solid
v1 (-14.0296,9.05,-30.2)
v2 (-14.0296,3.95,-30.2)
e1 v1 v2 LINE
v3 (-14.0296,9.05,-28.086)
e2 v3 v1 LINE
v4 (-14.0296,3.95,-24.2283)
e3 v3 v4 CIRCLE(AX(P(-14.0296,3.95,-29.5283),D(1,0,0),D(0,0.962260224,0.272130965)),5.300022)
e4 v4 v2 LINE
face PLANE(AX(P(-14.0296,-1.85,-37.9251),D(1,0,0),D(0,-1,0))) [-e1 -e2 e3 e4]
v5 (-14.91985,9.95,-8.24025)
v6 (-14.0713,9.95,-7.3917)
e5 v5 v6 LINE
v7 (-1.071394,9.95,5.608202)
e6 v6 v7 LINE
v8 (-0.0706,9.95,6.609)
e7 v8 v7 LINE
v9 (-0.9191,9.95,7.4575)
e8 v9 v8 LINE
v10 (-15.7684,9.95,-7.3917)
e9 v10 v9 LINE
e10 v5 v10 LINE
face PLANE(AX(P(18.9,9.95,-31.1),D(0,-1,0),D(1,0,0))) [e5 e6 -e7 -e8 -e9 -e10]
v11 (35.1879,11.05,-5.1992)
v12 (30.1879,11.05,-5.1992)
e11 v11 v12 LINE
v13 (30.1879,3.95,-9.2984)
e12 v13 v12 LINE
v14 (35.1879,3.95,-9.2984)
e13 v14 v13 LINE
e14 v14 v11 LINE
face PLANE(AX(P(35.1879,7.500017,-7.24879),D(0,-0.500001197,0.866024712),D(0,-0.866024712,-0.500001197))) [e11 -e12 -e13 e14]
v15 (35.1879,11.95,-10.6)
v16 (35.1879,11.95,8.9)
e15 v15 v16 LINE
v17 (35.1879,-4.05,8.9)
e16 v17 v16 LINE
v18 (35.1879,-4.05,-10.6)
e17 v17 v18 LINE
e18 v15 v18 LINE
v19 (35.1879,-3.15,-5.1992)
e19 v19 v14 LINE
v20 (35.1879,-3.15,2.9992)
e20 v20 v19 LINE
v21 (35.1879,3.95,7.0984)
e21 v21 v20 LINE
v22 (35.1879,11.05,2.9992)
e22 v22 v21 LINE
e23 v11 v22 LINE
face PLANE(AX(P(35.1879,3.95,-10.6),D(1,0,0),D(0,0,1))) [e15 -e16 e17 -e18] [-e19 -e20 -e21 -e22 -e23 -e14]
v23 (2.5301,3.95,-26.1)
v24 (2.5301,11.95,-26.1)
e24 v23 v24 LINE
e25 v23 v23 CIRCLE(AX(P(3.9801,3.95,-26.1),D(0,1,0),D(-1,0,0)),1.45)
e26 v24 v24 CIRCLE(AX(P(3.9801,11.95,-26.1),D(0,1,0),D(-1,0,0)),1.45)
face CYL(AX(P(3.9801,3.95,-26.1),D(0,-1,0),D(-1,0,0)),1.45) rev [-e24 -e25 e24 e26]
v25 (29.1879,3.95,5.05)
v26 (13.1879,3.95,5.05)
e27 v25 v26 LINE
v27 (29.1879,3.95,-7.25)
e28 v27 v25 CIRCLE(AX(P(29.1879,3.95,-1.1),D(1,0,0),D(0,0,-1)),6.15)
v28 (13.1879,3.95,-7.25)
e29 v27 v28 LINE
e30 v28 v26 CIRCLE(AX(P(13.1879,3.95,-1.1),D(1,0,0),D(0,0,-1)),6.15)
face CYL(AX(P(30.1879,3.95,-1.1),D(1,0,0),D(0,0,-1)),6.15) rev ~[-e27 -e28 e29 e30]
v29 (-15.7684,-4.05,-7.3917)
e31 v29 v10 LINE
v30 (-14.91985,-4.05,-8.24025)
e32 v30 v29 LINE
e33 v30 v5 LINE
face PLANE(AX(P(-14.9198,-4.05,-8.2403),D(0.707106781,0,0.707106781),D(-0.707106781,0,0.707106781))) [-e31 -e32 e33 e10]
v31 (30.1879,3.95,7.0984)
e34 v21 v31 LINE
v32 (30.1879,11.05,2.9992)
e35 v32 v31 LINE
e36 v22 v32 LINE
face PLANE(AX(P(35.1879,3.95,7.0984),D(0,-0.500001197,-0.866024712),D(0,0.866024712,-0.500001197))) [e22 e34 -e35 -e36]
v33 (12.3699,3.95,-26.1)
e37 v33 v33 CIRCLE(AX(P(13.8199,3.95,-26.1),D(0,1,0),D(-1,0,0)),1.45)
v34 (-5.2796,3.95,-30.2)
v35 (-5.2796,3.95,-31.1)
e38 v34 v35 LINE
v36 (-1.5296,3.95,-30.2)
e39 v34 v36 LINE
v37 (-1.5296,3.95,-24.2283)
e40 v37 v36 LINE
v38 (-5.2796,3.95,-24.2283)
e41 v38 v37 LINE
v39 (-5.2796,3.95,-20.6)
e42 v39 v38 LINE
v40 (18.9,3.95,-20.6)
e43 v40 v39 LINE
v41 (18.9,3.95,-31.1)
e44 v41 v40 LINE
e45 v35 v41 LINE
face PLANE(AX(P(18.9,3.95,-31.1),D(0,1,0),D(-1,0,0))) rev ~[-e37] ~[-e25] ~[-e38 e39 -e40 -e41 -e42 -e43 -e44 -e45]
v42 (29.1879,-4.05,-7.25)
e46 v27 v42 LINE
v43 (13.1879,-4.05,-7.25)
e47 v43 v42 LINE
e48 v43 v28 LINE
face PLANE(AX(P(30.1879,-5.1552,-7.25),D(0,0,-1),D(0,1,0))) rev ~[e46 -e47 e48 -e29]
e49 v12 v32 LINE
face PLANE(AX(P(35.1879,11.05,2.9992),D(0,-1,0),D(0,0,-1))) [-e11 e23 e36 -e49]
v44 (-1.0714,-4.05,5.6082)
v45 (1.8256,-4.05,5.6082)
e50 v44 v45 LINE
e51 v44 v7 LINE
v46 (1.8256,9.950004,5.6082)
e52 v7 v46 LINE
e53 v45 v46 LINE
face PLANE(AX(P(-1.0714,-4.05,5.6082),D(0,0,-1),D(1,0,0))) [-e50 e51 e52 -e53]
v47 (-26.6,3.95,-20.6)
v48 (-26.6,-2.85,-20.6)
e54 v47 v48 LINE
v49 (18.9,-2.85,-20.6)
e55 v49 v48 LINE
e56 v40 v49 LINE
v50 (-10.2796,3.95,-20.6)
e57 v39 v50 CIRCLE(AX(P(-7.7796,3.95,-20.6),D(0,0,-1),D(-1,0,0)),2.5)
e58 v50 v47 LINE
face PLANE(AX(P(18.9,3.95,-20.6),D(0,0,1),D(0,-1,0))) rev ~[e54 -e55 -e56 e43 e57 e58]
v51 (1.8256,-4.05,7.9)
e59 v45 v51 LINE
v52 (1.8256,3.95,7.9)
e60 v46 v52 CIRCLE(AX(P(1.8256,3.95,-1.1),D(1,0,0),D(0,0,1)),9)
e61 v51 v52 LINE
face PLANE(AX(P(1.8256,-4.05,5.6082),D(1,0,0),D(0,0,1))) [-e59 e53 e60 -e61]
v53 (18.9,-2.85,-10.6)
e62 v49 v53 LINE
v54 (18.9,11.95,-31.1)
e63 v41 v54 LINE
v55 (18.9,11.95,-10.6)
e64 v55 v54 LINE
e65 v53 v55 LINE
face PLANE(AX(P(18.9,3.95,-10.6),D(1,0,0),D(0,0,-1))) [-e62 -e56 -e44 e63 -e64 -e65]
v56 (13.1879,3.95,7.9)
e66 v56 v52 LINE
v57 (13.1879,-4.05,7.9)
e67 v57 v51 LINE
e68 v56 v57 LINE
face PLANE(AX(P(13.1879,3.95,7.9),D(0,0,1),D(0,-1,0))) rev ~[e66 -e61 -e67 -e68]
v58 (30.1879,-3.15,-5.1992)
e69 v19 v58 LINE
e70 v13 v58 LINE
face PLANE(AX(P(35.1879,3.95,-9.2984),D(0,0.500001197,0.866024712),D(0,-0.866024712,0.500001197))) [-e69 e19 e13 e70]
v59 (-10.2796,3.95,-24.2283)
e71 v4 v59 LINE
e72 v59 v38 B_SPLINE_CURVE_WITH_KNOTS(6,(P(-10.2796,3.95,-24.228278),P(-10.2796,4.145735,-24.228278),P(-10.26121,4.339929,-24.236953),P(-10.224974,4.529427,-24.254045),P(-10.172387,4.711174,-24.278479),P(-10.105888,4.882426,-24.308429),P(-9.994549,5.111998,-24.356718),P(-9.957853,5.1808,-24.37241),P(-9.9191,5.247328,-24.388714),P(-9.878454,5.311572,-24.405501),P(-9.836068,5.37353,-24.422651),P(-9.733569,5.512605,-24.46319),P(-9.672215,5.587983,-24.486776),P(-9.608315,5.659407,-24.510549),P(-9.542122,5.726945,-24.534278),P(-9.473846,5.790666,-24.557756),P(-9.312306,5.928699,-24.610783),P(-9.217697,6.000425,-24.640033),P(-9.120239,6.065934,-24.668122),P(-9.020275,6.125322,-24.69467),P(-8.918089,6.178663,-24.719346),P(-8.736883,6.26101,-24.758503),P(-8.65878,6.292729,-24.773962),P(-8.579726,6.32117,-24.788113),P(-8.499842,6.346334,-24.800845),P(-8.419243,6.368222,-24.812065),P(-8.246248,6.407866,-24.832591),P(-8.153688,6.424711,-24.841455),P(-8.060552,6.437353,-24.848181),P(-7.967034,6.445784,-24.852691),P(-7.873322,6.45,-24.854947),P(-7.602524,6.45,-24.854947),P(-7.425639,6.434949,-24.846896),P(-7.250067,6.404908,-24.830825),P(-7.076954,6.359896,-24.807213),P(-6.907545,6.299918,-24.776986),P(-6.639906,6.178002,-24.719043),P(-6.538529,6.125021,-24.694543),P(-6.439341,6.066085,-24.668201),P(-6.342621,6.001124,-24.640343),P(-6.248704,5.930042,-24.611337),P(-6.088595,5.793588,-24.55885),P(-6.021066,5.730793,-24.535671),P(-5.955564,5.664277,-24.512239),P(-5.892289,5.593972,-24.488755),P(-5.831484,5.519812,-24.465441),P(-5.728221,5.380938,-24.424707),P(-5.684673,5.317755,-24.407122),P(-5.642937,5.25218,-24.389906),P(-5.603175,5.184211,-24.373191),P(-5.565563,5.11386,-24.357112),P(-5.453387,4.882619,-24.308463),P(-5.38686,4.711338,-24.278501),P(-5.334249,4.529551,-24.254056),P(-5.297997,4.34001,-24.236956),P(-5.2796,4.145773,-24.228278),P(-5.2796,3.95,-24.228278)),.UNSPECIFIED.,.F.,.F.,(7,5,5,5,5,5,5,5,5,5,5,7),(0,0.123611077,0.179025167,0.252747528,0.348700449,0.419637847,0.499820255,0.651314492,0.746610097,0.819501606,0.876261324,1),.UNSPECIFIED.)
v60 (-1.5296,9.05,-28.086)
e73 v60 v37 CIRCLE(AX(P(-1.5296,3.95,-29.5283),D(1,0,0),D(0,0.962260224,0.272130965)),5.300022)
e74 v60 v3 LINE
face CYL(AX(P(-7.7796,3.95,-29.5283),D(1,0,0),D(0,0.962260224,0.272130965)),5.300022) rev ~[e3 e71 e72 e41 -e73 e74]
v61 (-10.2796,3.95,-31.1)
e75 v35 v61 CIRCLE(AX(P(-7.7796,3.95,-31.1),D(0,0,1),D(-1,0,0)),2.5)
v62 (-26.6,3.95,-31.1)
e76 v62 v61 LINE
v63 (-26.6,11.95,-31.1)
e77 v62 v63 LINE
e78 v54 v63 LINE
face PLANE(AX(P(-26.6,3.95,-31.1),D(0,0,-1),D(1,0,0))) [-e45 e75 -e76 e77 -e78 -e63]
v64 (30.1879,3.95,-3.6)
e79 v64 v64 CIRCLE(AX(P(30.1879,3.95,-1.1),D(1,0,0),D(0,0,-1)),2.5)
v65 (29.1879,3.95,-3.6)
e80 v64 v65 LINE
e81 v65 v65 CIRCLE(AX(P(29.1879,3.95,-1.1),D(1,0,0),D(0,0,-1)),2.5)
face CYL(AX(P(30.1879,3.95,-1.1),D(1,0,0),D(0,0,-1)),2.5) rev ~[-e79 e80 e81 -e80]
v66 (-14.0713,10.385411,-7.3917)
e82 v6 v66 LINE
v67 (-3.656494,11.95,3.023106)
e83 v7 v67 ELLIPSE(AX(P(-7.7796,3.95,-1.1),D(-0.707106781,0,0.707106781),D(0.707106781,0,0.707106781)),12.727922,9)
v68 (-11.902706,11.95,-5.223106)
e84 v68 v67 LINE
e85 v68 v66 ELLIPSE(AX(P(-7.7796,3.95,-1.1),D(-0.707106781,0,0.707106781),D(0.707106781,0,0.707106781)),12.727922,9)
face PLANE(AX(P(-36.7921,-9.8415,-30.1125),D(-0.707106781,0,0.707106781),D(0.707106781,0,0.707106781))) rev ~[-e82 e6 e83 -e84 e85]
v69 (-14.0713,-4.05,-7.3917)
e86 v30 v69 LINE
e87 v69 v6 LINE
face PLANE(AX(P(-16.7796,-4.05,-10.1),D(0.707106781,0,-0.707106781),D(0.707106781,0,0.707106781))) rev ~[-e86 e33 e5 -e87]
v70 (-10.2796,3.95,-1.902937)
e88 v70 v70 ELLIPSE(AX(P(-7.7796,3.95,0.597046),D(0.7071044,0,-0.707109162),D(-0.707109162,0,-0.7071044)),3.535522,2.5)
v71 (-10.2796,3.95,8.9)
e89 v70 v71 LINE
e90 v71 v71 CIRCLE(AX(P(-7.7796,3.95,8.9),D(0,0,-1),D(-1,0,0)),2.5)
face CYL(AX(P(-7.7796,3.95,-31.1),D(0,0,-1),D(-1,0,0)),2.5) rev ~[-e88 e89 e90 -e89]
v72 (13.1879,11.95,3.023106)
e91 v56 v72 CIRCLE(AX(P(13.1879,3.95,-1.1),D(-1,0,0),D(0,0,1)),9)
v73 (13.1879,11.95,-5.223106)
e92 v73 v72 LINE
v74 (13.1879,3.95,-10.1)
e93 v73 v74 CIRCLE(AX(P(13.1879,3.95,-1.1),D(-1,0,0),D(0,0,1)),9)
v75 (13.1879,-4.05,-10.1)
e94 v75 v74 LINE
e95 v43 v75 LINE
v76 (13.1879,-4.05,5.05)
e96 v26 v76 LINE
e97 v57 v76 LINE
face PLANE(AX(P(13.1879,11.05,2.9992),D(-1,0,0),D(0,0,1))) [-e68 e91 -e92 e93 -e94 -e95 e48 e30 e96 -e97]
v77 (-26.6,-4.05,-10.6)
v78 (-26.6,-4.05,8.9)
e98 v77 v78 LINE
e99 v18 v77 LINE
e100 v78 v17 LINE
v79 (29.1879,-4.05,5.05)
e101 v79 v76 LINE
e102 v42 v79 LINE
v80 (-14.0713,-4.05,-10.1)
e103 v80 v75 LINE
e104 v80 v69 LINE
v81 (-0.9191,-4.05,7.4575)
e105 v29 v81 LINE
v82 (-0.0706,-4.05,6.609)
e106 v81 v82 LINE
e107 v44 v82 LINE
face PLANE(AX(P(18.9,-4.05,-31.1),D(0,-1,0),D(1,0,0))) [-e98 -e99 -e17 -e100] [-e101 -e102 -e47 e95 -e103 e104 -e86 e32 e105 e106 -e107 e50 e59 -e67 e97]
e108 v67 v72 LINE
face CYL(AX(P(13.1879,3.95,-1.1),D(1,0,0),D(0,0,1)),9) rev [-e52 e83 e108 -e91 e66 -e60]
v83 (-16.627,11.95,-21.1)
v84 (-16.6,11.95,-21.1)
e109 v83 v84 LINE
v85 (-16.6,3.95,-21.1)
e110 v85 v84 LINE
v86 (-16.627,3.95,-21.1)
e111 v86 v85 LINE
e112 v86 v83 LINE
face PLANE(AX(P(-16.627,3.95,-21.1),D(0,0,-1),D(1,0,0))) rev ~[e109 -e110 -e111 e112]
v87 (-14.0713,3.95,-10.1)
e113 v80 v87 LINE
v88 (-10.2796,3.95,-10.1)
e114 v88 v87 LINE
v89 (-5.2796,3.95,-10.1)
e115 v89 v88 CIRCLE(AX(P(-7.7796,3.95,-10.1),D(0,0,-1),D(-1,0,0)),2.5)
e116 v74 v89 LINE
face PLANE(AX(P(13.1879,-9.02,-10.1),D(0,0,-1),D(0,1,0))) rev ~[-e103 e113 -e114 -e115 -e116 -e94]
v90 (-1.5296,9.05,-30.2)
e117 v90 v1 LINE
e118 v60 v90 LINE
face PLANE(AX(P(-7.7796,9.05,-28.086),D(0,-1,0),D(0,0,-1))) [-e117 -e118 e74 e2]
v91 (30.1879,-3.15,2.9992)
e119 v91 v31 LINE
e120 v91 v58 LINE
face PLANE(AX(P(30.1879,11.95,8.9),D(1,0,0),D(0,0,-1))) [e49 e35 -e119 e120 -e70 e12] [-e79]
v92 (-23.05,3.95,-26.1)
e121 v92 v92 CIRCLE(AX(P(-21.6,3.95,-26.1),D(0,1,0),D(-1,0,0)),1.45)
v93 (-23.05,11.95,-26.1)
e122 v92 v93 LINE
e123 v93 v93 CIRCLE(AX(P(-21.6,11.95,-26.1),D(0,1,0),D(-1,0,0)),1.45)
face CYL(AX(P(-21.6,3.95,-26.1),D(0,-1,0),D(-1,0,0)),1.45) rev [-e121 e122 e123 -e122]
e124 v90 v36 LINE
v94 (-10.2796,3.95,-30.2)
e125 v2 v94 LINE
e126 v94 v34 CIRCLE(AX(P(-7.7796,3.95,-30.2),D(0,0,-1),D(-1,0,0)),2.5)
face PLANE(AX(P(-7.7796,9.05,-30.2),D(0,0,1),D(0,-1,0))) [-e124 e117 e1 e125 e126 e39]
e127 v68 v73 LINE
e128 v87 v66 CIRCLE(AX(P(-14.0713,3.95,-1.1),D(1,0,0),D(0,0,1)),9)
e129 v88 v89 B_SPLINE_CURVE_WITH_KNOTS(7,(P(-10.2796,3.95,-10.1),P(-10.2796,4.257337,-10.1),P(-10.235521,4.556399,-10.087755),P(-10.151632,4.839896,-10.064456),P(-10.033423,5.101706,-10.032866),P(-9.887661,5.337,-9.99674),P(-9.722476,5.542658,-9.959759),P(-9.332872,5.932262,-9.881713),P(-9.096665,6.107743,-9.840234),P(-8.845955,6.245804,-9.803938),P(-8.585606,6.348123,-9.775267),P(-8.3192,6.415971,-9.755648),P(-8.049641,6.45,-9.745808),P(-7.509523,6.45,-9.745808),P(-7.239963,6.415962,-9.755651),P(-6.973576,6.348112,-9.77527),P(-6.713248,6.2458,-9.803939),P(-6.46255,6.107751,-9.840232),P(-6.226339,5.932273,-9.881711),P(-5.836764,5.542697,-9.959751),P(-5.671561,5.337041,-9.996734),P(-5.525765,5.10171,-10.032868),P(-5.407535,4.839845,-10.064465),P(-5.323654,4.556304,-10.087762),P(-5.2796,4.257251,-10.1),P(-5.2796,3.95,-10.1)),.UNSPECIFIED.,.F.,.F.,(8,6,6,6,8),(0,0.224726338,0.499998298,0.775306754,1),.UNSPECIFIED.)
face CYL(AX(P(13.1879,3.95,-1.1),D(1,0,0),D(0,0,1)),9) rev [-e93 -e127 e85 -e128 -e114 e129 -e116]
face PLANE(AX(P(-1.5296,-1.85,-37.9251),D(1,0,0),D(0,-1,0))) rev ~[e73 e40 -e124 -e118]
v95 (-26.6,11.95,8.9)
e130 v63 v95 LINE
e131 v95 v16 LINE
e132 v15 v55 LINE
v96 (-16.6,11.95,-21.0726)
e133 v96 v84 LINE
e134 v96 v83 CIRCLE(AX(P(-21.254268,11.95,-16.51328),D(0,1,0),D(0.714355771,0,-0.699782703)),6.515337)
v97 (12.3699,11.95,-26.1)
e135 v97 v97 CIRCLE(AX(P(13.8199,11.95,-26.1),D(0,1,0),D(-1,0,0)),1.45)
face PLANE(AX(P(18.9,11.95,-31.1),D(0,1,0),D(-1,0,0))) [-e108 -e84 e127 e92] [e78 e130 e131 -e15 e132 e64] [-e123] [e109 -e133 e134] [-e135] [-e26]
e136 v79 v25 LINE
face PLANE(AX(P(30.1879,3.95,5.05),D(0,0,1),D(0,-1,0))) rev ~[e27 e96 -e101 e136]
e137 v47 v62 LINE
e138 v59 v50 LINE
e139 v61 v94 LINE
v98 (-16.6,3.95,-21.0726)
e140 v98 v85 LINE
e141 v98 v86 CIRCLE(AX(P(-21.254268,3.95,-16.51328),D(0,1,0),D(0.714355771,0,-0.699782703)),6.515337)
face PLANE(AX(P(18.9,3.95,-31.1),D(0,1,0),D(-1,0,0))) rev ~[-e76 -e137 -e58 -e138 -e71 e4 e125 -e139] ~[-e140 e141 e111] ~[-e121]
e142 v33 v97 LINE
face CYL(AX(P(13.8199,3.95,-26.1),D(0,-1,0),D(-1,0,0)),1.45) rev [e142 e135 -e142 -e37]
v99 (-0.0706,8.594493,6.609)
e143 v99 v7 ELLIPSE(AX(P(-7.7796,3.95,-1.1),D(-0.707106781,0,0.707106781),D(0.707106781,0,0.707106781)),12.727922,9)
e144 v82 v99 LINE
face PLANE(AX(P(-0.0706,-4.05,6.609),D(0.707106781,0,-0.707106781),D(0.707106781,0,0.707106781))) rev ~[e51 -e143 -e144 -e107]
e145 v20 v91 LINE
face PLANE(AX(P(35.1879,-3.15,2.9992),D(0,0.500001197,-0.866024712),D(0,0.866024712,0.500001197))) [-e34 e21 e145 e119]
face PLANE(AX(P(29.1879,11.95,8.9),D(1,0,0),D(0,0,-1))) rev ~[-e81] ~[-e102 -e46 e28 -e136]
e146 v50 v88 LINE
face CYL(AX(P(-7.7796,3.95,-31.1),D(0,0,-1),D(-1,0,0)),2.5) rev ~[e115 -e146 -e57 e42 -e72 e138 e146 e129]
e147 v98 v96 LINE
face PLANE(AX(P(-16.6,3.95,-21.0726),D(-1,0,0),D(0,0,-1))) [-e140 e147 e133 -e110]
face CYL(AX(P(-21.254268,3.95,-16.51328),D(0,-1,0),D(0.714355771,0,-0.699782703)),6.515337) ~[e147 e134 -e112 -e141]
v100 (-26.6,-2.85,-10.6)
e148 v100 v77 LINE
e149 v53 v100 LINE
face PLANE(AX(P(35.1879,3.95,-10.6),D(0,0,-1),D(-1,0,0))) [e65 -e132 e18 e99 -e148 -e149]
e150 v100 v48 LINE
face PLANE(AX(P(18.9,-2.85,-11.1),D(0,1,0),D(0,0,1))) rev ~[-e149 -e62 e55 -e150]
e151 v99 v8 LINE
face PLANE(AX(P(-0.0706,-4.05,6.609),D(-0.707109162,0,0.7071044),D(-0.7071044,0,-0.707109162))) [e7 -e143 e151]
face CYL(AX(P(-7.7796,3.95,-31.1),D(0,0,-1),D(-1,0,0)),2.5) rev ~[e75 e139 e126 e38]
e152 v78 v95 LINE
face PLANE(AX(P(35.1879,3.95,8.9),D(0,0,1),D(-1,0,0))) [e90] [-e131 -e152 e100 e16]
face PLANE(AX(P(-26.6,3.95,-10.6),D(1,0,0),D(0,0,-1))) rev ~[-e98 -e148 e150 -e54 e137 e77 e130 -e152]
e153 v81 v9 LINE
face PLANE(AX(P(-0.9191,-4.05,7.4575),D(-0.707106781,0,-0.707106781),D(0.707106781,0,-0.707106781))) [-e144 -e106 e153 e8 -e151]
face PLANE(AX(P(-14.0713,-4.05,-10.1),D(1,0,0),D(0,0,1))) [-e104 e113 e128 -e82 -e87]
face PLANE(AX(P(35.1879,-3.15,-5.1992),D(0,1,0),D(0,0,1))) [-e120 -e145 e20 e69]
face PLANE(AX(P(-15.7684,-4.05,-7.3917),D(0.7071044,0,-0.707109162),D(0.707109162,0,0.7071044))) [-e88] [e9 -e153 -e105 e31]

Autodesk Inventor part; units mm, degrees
ref_plane "Arbeitsebene6" through (18.9, 3.95, -31.1) normal (0, 1, 0) x (-1, 0, 0)
sketch "Skizze13" plane through (18.9, 3.95, -31.1) normal (0, 1, 0) x (-1, 0, 0)
  circle A0 centre (40.5, 5) radius 1.45 projected
  line L0 (29.1796, 0.9) -> (29.1796, 0) projected
  line L1 (45.5, 0) -> (29.1796, 0) projected
  line L2 (45.5, 0) -> (45.5, 10) projected
  line L3 (45.5, 10) -> (29.1796, 10) projected
  line L4 (29.1796, 10) -> (29.1796, 6.8717) projected
  line L5 (29.1796, 6.8717) -> (32.9296, 6.8717) projected
  line L6 (32.9296, 6.8717) -> (32.9296, 0.9) projected
  line L7 (32.9296, 0.9) -> (29.1796, 0.9) projected
  line L8 (24.1796, 0) -> (24.1796, 0.9) projected
  line L9 (24.1796, 0.9) -> (20.4296, 0.9) projected
  line L10 (20.4296, 0.9) -> (20.4296, 6.8717) projected
  line L11 (20.4296, 6.8717) -> (24.1796, 6.8717) projected
  line L12 (24.1796, 6.8717) -> (24.1796, 10) projected
  line L13 (24.1796, 10) -> (0, 10) projected
  line L14 (0, 0) -> (0, 10) projected
  line L15 (24.1796, 0) -> (0, 0) projected
  circle A1 centre (14.9199, 5) radius 1.45 projected
  circle A2 centre (5.0801, 5) radius 1.45 projected
  line L16 (29.1796, 10) -> (24.1796, 10)
  line L17 (29.1796, 0) -> (24.1796, 0)
  line L18 (55.5, 0) -> (55.5, 10) projected
  line L19 (55.5, 10) -> (55.473, 10) projected
  line L20 (55.473, 10) -> (55.473, 40) projected
  line L21 (55.473, 40) -> (45.5, 40) projected
  line L22 (45.5, 40) -> (45.5, 20) projected
  line L23 (45.5, 20) -> (35.5, 20) projected
  line L24 (35.5, 20) -> (35.5, 10.0274) projected
  arc A3 (35.5, 10.0274) -> (35.527, 10) centre (40.5, 14.9264) ccw projected
  line L25 (45.5, 10) -> (35.527, 10) projected
  line L26 (45.5, 0) -> (45.5, 10) projected
  line L27 (45.5, 0) -> (55.5, 0) projected
  line L28 (52.073, 16.5) -> (52.073, 3.5) projected
  arc A4 (48.873, 3.5) -> (52.073, 3.5) centre (50.473, 3.5) ccw projected
  line L29 (48.873, 3.5) -> (48.873, 16.5) projected
  arc A5 (52.073, 16.5) -> (48.873, 16.5) centre (50.473, 16.5) ccw projected
  line L30 (48.8865, 23.1111) -> (48.8865, 36.1111) projected
  arc A6 (52.0865, 36.1111) -> (48.8865, 36.1111) centre (50.4865, 36.1111) ccw projected
  line L31 (52.0865, 36.1111) -> (52.0865, 23.1111) projected
  arc A7 (48.8865, 23.1111) -> (52.0865, 23.1111) centre (50.4865, 23.1111) ccw projected
  line L32 (-10, 0) -> (0, 0) projected
  line L33 (0, 10) -> (0, 0) projected
  line L34 (16, 10) -> (0, 10) projected
  line L35 (16, 10) -> (16, 20) projected
  line L36 (16, 20) -> (-10, 20) projected
  line L37 (-10, 20) -> (-10, 0) projected
  line L38 (-3.4, 16.5) -> (-3.4, 3.5) projected
  arc A8 (-6.6, 3.5) -> (-3.4, 3.5) centre (-5, 3.5) ccw projected
  line L39 (-6.6, 3.5) -> (-6.6, 16.5) projected
  arc A9 (-3.4, 16.5) -> (-6.6, 16.5) centre (-5, 16.5) ccw projected
  line L40 (-16.2879, 40) -> (45.5, 40)
  line L41 (45.5, 40) -> (45.5, 20.5)
  line L42 (45.5, 20.5) -> (-16.2879, 20.5)
  line L43 (-16.2879, 20.5) -> (-16.2879, 40)
  line L44 (45.5, 20.5) -> (35.5, 20.5)
  line L45 (35.5, 20.5) -> (35.5, 20)
  line L46 (35.5, 20) -> (45.5, 20)
  line L47 (45.5, 20) -> (45.5, 20.5)
  line L48 (16, 20) -> (0, 20)
  line L49 (0, 20) -> (0, 20.5)
  line L50 (0, 20.5) -> (16, 20.5)
  line L51 (16, 20.5) -> (16, 20)
  line L52 (0, 20) -> (0, 10)
  line L53 (35.5, 10) -> (45.5, 10)
  line L54 (45.5, 10) -> (45.5, 20.5)
  line L55 (45.5, 20.5) -> (35.5, 20.5)
  line L56 (35.5, 20.5) -> (35.5, 10)
  point P0 (0, 20)
  point P1 (0.5252, 10)
  point P2 (35.527, 10)
  point P3 (0, 20)
  point P4 (35.5, 10.0274)
  dimension "d60" = 0.5
extrude "Extrusion12" add sketch "Skizze13" along normal blind 8 contours L7 L6 L5 L4 L3 L2 L1 L0 | L0 L17 L8 L9 L10 L11 L12 L16 L4 L5 L6 L7 | L15 L14 L13 L12 L11 L10 L9 L8 | L3 A3 L24 L23 L54 | L23 L45 L42 L22 | L52 L36 L35 L13 | L16 L13 L35 L51 L42 L45 L24 L56 L3 | L42 L43 L40 L22 | L49 L42 L51 L36
sketch "Skizze16" plane through (18.9, 3.95, -31.1) normal (0, -1, 0) x (1, 0, 0)
  line L0 (16.2879, 20.5) -> (0, 20.5) projected
  line L1 (-45.5, 0) -> (-45.5, 40) projected
  circle A0 centre (-5.0801, 5) radius 1.45 projected
  circle A1 centre (-14.9199, 5) radius 1.45 projected
  line L2 (-16, 20) -> (10, 20) projected
  line L3 (-66.9798, -10.3003) -> (9.2505, 65.9301)
  line L4 (16.2879, 20.5) -> (0, 20.5) projected
  line L5 (16.2879, 20.5) -> (-45.5, 20.5)
  line L6 (-45.5, 20.5) -> (-45.5, 40)
  line L7 (-45.5, 40) -> (16.2879, 40)
  line L8 (16.2879, 40) -> (16.2879, 20.5)
  line L9 (0, 20.5) -> (0, 0) projected
  line L10 (16.2879, 40) -> (16.2879, 20.5) projected
  line L11 (-45.5, 40) -> (16.2879, 40) projected
  line L12 (0, 0) -> (-45.5, 0) projected
  point P0 (-18.9, 31.1)
extrude "Extrusion13" add sketch "Skizze16" along normal blind 8 contours L0 L5 L3 L7 L8 | L5 L1 L7 L3
ref_plane "Arbeitsebene7" through (-7.7796, -1.85, -37.9251) normal (1, 0, 0) x (0, -1, 0)
sketch "Skizze18" plane through (-7.7796, -1.85, -37.9251) normal (1, 0, 0) x (0, -1, 0)
  arc A0 (-5.8, -13.6968) -> (-0.7, -9.8391) centre (-5.8, -8.3968) ccw projected
  line L0 (-0.7, -9.8391) -> (-0.7, -7.7251) projected
  arc A1 (-10.8, -9.8251) -> (-0.8, -9.8251) centre (-5.8, -8.3968) ccw projected
  line L1 (-0.8, -7.8251) -> (-0.8, -9.8251) projected
  line L2 (-10.8, -7.8251) -> (-0.8, -7.8251) projected
  line L3 (-10.8, -9.8251) -> (-10.8, -7.8251) projected
  arc A2 (-10.9, -9.8391) -> (-0.7, -9.8391) centre (-5.8, -8.3968) ccw
  line L4 (-10.9, -9.8391) -> (-10.9, -7.7251)
  line L5 (-10.9, -7.7251) -> (-0.7, -7.7251)
  line L6 (-0.7, -7.7251) -> (-0.7, -9.8391)
  point P0 (-1.85, -37.9251)
  point P1 (-5.8, -13.6968)
extrude "Extrusion15" cut sketch "Skizze18" along normal mid plane 12.5 contours A2 L4 L5 L0 A0 | L3 L2 L1 A1
sketch "Skizze19" plane through (35.1879, 11.95, 8.9) normal (1, 0, 0) x (0, 0, -1)
  circle A0 centre (10, -8) radius 7 projected
  circle A1 centre (10, -8) radius 7.1
  line L0 (14.0992, -15.1) -> (5.9008, -15.1)
  line L1 (5.9008, -15.1) -> (1.8016, -8)
  line L2 (1.8016, -8) -> (5.9008, -0.9)
  line L3 (5.9008, -0.9) -> (14.0992, -0.9)
  line L4 (14.0992, -0.9) -> (18.1984, -8)
  line L5 (18.1984, -8) -> (14.0992, -15.1)
  line L6 (19.5, -16) -> (0, -16) projected
  point P0 (8.9, -11.95)
  dimension "d68" = 0.1
ref_plane "Arbeitsebene8" through (22.1204, -2.15, -7.2) normal (1, 0, 0) x (0, 1, 0)
extrude "Extrusion16" cut sketch "Skizze19" against normal blind 5 contours A0 | A1 | A1 L4 L5 | A1 L3 L4 | L5 L0 A1 | A1 L2 L3 | L0 L1 A1 | A1 L1 L2
sketch "Skizze20" plane through (30.1879, 11.05, 2.9992) normal (1, 0, 0) x (0, 0, -1)
  arc A0 (6.1223, -12.104) -> (2.4773, -12.2481) centre (4.0992, -7.1) ccw projected
  circle A1 centre (4.0992, -7.1) radius 6.15
  line L0 (10.2492, -7.1) -> (-2.0508, -7.1)
  line L1 (-2.0508, -7.1) -> (-2.0508, -16.2052)
  line L2 (-2.0508, -16.2052) -> (10.2492, -16.2052)
  line L3 (10.2492, -16.2052) -> (10.2492, -7.1)
  point P0 (2.9992, -11.05)
  point P1 (-2.0508, -7.1)
  dimension "d71" = 12.3
ref_plane "Arbeitsebene9" through (-36.7921, -9.8415, -30.1125) normal (-0.7071, 0, 0.7071) x (0.7071, 0, 0.7071)
extrude "Extrusion17" cut sketch "Skizze20" against normal up to surface surface through (-36.7921, -9.8415, -30.1125) normal (-0.7071, 0, 0.7071)
ref_plane "Arbeitsebene10" through (13.1879, 11.05, 2.9992) normal (-1, 0, 0) x (0, 0, 1)
sketch "Skizze21" plane through (13.1879, 11.05, 2.9992) normal (-1, 0, 0) x (0, 0, 1)
  arc A0 (-3.1969, -9.9981) -> (-5.2274, -9.9178) centre (-4.0992, -7.1) ccw projected
  circle A1 centre (-4.0992, -7.1) radius 9
  line L0 (-13.0992, -7.1) -> (4.9008, -7.1)
  line L1 (4.9008, -7.1) -> (4.9008, -20.07)
  line L2 (4.9008, -20.07) -> (-13.0992, -20.07)
  line L3 (-13.0992, -20.07) -> (-13.0992, -7.1)
  point P0 (-2.9992, -11.05)
  dimension "d75" = 18
ref_plane "Arbeitsebene11" through (-36.7921, -9.8415, -30.1125) normal (-0.7071, 0, 0.7071) x (0.7071, 0, 0.7071)
extrude "Extrusion18" cut sketch "Skizze21" along normal up to surface surface through (-36.7921, -9.8415, -30.1125) normal (-0.7071, 0, 0.7071)
sketch "Skizze22" plane through (18.9, -4.05, -31.1) normal (0, -1, 0) x (1, 0, 0)
  line L0 (-45.5, 20.5) -> (16.2879, 20.5) projected
  line L1 (-45.5, 40) -> (-45.5, 20.5) projected
  line L2 (-34.6684, 23.7083) -> (-19.8191, 38.5575)
  line L3 (-19.8191, 38.5575) -> (-18.9706, 37.709)
  line L4 (-18.9706, 37.709) -> (-33.8198, 22.8597)
  line L5 (-33.8198, 22.8597) -> (-34.6684, 23.7083)
  line L6 (-34.6684, 23.7083) -> (-18.9706, 37.709) construction
  line L7 (-19.8191, 38.5575) -> (-33.8198, 22.8597) construction
  line L8 (-34.6684, 23.7083) -> (-13.6684, 23.7083) construction
  line L9 (16.2879, 40) -> (-45.5, 40) projected
  line L10 (16.2879, 20.5) -> (16.2879, 40) projected
  point P0 (-18.9, 31.1)
  point P1 (-26.8195, 30.7086)
  dimension "d78" = 21
  dimension "d79" = 45
  dimension "d80" = 1.2
extrude "Extrusion19" cut sketch "Skizze22" against normal blind 14 contours L2 L3 L4 L5
sketch "Skizze23" plane through (18.9, -4.05, -31.1) normal (0, -1, 0) x (1, 0, 0)
  line L0 (-45.5, 20.5) -> (16.2879, 20.5) projected
  line L1 (-45.5, 40) -> (-45.5, 20.5) projected
  line L2 (-35.6796, 21) -> (-32.9713, 23.7083)
  line L3 (-33.3878, 23.2918) -> (-30.8027, 25.8769) projected
  line L4 (-5.7121, 21) -> (-35.6796, 21) projected
  line L5 (-32.9713, 21) -> (-32.9713, 23.7083)
  line L6 (-18.9706, 37.709) -> (-19.9714, 36.7082) projected
  line L7 (-19.9714, 36.7082) -> (-17.0744, 36.7082)
  line L8 (-17.0744, 36.7082) -> (-17.0744, 39)
  line L9 (-18.9706, 37.709) -> (-19.9714, 36.7082) projected
  line L10 (-19.9714, 36.7082) -> (-17.6796, 39)
  line L11 (-17.6796, 39) -> (-17.0744, 39)
  line L12 (16.2879, 40) -> (-45.5, 40) projected
  line L13 (16.2879, 20.5) -> (16.2879, 40) projected
  point P0 (-18.9, 31.1)
  point P1 (-29.1796, 21)
extrude "Extrusion20" add sketch "Skizze23" against normal up to surface (16 mm away) contours L2 L5 L4 | L10 L11 L8 L7 L6
sketch "Skizze24" plane through (30.1879, 11.95, 8.9) normal (1, 0, 0) x (0, 0, -1)
  arc A0 (16.15, -8) -> (3.85, -8) centre (10, -8) ccw projected
  circle A1 centre (10, -8) radius 2.5 projected
  circle A2 centre (10, -8) radius 6.15
  line L0 (14.0992, -0.9) -> (18.1984, -8) projected
  line L1 (18.1984, -8) -> (14.0992, -15.1) projected
  line L2 (14.0992, -15.1) -> (5.9008, -15.1) projected
  line L3 (5.9008, -15.1) -> (1.8016, -8) projected
  line L4 (1.8016, -8) -> (5.9008, -0.9) projected
  line L5 (5.9008, -0.9) -> (14.0992, -0.9) projected
  line L6 (19.5, -16) -> (19.5, 0) projected
  line L7 (0, 0) -> (19.5, 0) projected
  line L8 (0, -16) -> (0, 0) projected
  line L9 (19.5, -16) -> (0, -16) projected
  point P0 (8.9, -11.95)
extrude "Extrusion21" add sketch "Skizze24" against normal blind 1 contours A2 A0 | L0 L1 L2 L3 L4 L5 | L9 L8 L7 L6
ref_plane "Arbeitsebene12" through (-26.6, -8.85, -11.1) normal (1, 0, 0) x (0, 1, 0)
sketch "Skizze25" plane through (18.9, 3.95, -10.6) normal (1, 0, 0) x (0, 0, -1)
  line L0 (0.5, -6.8) -> (20.5, -6.8) projected
  line L1 (0, -8) -> (0, 8) projected
  line L2 (0, 0) -> (10.5, 0) projected
  line L3 (0, 0) -> (10, 0)
  line L4 (10, 0) -> (10, -6.8)
  line L5 (10, -6.8) -> (0, -6.8)
  line L6 (0, -6.8) -> (0, 0)
  line L7 (10.5, 0) -> (10.5, -6.8) projected
  point P0 (-10.6, -3.95)
  point P1 (0, -6.8)
  dimension "d87" = 0.5
extrude "Extrusion22" add sketch "Skizze25" against normal up to surface (45.5 mm away) contours L5 L1 L2 L4 L0
sketch "Skizze26" plane through (18.9, 11.95, -31.1) normal (0, 0, -1) x (-1, 0, 0)
  line L0 (0, -8) -> (24.1796, -8) projected
  line L1 (0, 0) -> (24.1796, 0) projected
  line L2 (0, -8) -> (0, 0) projected
  line L3 (24.1796, -8) -> (29.1796, -8) projected
  circle A0 centre (26.6796, -8) radius 2.5
  line L4 (24.1796, -8) -> (24.1796, 0) projected
  point P0 (18.9, -11.95)
extrude "Extrusion23" cut sketch "Skizze26" against normal through all contours A0 L3 | L3 A0
properties part number "30_Lightsheet_generator_passive_lid_v0"
